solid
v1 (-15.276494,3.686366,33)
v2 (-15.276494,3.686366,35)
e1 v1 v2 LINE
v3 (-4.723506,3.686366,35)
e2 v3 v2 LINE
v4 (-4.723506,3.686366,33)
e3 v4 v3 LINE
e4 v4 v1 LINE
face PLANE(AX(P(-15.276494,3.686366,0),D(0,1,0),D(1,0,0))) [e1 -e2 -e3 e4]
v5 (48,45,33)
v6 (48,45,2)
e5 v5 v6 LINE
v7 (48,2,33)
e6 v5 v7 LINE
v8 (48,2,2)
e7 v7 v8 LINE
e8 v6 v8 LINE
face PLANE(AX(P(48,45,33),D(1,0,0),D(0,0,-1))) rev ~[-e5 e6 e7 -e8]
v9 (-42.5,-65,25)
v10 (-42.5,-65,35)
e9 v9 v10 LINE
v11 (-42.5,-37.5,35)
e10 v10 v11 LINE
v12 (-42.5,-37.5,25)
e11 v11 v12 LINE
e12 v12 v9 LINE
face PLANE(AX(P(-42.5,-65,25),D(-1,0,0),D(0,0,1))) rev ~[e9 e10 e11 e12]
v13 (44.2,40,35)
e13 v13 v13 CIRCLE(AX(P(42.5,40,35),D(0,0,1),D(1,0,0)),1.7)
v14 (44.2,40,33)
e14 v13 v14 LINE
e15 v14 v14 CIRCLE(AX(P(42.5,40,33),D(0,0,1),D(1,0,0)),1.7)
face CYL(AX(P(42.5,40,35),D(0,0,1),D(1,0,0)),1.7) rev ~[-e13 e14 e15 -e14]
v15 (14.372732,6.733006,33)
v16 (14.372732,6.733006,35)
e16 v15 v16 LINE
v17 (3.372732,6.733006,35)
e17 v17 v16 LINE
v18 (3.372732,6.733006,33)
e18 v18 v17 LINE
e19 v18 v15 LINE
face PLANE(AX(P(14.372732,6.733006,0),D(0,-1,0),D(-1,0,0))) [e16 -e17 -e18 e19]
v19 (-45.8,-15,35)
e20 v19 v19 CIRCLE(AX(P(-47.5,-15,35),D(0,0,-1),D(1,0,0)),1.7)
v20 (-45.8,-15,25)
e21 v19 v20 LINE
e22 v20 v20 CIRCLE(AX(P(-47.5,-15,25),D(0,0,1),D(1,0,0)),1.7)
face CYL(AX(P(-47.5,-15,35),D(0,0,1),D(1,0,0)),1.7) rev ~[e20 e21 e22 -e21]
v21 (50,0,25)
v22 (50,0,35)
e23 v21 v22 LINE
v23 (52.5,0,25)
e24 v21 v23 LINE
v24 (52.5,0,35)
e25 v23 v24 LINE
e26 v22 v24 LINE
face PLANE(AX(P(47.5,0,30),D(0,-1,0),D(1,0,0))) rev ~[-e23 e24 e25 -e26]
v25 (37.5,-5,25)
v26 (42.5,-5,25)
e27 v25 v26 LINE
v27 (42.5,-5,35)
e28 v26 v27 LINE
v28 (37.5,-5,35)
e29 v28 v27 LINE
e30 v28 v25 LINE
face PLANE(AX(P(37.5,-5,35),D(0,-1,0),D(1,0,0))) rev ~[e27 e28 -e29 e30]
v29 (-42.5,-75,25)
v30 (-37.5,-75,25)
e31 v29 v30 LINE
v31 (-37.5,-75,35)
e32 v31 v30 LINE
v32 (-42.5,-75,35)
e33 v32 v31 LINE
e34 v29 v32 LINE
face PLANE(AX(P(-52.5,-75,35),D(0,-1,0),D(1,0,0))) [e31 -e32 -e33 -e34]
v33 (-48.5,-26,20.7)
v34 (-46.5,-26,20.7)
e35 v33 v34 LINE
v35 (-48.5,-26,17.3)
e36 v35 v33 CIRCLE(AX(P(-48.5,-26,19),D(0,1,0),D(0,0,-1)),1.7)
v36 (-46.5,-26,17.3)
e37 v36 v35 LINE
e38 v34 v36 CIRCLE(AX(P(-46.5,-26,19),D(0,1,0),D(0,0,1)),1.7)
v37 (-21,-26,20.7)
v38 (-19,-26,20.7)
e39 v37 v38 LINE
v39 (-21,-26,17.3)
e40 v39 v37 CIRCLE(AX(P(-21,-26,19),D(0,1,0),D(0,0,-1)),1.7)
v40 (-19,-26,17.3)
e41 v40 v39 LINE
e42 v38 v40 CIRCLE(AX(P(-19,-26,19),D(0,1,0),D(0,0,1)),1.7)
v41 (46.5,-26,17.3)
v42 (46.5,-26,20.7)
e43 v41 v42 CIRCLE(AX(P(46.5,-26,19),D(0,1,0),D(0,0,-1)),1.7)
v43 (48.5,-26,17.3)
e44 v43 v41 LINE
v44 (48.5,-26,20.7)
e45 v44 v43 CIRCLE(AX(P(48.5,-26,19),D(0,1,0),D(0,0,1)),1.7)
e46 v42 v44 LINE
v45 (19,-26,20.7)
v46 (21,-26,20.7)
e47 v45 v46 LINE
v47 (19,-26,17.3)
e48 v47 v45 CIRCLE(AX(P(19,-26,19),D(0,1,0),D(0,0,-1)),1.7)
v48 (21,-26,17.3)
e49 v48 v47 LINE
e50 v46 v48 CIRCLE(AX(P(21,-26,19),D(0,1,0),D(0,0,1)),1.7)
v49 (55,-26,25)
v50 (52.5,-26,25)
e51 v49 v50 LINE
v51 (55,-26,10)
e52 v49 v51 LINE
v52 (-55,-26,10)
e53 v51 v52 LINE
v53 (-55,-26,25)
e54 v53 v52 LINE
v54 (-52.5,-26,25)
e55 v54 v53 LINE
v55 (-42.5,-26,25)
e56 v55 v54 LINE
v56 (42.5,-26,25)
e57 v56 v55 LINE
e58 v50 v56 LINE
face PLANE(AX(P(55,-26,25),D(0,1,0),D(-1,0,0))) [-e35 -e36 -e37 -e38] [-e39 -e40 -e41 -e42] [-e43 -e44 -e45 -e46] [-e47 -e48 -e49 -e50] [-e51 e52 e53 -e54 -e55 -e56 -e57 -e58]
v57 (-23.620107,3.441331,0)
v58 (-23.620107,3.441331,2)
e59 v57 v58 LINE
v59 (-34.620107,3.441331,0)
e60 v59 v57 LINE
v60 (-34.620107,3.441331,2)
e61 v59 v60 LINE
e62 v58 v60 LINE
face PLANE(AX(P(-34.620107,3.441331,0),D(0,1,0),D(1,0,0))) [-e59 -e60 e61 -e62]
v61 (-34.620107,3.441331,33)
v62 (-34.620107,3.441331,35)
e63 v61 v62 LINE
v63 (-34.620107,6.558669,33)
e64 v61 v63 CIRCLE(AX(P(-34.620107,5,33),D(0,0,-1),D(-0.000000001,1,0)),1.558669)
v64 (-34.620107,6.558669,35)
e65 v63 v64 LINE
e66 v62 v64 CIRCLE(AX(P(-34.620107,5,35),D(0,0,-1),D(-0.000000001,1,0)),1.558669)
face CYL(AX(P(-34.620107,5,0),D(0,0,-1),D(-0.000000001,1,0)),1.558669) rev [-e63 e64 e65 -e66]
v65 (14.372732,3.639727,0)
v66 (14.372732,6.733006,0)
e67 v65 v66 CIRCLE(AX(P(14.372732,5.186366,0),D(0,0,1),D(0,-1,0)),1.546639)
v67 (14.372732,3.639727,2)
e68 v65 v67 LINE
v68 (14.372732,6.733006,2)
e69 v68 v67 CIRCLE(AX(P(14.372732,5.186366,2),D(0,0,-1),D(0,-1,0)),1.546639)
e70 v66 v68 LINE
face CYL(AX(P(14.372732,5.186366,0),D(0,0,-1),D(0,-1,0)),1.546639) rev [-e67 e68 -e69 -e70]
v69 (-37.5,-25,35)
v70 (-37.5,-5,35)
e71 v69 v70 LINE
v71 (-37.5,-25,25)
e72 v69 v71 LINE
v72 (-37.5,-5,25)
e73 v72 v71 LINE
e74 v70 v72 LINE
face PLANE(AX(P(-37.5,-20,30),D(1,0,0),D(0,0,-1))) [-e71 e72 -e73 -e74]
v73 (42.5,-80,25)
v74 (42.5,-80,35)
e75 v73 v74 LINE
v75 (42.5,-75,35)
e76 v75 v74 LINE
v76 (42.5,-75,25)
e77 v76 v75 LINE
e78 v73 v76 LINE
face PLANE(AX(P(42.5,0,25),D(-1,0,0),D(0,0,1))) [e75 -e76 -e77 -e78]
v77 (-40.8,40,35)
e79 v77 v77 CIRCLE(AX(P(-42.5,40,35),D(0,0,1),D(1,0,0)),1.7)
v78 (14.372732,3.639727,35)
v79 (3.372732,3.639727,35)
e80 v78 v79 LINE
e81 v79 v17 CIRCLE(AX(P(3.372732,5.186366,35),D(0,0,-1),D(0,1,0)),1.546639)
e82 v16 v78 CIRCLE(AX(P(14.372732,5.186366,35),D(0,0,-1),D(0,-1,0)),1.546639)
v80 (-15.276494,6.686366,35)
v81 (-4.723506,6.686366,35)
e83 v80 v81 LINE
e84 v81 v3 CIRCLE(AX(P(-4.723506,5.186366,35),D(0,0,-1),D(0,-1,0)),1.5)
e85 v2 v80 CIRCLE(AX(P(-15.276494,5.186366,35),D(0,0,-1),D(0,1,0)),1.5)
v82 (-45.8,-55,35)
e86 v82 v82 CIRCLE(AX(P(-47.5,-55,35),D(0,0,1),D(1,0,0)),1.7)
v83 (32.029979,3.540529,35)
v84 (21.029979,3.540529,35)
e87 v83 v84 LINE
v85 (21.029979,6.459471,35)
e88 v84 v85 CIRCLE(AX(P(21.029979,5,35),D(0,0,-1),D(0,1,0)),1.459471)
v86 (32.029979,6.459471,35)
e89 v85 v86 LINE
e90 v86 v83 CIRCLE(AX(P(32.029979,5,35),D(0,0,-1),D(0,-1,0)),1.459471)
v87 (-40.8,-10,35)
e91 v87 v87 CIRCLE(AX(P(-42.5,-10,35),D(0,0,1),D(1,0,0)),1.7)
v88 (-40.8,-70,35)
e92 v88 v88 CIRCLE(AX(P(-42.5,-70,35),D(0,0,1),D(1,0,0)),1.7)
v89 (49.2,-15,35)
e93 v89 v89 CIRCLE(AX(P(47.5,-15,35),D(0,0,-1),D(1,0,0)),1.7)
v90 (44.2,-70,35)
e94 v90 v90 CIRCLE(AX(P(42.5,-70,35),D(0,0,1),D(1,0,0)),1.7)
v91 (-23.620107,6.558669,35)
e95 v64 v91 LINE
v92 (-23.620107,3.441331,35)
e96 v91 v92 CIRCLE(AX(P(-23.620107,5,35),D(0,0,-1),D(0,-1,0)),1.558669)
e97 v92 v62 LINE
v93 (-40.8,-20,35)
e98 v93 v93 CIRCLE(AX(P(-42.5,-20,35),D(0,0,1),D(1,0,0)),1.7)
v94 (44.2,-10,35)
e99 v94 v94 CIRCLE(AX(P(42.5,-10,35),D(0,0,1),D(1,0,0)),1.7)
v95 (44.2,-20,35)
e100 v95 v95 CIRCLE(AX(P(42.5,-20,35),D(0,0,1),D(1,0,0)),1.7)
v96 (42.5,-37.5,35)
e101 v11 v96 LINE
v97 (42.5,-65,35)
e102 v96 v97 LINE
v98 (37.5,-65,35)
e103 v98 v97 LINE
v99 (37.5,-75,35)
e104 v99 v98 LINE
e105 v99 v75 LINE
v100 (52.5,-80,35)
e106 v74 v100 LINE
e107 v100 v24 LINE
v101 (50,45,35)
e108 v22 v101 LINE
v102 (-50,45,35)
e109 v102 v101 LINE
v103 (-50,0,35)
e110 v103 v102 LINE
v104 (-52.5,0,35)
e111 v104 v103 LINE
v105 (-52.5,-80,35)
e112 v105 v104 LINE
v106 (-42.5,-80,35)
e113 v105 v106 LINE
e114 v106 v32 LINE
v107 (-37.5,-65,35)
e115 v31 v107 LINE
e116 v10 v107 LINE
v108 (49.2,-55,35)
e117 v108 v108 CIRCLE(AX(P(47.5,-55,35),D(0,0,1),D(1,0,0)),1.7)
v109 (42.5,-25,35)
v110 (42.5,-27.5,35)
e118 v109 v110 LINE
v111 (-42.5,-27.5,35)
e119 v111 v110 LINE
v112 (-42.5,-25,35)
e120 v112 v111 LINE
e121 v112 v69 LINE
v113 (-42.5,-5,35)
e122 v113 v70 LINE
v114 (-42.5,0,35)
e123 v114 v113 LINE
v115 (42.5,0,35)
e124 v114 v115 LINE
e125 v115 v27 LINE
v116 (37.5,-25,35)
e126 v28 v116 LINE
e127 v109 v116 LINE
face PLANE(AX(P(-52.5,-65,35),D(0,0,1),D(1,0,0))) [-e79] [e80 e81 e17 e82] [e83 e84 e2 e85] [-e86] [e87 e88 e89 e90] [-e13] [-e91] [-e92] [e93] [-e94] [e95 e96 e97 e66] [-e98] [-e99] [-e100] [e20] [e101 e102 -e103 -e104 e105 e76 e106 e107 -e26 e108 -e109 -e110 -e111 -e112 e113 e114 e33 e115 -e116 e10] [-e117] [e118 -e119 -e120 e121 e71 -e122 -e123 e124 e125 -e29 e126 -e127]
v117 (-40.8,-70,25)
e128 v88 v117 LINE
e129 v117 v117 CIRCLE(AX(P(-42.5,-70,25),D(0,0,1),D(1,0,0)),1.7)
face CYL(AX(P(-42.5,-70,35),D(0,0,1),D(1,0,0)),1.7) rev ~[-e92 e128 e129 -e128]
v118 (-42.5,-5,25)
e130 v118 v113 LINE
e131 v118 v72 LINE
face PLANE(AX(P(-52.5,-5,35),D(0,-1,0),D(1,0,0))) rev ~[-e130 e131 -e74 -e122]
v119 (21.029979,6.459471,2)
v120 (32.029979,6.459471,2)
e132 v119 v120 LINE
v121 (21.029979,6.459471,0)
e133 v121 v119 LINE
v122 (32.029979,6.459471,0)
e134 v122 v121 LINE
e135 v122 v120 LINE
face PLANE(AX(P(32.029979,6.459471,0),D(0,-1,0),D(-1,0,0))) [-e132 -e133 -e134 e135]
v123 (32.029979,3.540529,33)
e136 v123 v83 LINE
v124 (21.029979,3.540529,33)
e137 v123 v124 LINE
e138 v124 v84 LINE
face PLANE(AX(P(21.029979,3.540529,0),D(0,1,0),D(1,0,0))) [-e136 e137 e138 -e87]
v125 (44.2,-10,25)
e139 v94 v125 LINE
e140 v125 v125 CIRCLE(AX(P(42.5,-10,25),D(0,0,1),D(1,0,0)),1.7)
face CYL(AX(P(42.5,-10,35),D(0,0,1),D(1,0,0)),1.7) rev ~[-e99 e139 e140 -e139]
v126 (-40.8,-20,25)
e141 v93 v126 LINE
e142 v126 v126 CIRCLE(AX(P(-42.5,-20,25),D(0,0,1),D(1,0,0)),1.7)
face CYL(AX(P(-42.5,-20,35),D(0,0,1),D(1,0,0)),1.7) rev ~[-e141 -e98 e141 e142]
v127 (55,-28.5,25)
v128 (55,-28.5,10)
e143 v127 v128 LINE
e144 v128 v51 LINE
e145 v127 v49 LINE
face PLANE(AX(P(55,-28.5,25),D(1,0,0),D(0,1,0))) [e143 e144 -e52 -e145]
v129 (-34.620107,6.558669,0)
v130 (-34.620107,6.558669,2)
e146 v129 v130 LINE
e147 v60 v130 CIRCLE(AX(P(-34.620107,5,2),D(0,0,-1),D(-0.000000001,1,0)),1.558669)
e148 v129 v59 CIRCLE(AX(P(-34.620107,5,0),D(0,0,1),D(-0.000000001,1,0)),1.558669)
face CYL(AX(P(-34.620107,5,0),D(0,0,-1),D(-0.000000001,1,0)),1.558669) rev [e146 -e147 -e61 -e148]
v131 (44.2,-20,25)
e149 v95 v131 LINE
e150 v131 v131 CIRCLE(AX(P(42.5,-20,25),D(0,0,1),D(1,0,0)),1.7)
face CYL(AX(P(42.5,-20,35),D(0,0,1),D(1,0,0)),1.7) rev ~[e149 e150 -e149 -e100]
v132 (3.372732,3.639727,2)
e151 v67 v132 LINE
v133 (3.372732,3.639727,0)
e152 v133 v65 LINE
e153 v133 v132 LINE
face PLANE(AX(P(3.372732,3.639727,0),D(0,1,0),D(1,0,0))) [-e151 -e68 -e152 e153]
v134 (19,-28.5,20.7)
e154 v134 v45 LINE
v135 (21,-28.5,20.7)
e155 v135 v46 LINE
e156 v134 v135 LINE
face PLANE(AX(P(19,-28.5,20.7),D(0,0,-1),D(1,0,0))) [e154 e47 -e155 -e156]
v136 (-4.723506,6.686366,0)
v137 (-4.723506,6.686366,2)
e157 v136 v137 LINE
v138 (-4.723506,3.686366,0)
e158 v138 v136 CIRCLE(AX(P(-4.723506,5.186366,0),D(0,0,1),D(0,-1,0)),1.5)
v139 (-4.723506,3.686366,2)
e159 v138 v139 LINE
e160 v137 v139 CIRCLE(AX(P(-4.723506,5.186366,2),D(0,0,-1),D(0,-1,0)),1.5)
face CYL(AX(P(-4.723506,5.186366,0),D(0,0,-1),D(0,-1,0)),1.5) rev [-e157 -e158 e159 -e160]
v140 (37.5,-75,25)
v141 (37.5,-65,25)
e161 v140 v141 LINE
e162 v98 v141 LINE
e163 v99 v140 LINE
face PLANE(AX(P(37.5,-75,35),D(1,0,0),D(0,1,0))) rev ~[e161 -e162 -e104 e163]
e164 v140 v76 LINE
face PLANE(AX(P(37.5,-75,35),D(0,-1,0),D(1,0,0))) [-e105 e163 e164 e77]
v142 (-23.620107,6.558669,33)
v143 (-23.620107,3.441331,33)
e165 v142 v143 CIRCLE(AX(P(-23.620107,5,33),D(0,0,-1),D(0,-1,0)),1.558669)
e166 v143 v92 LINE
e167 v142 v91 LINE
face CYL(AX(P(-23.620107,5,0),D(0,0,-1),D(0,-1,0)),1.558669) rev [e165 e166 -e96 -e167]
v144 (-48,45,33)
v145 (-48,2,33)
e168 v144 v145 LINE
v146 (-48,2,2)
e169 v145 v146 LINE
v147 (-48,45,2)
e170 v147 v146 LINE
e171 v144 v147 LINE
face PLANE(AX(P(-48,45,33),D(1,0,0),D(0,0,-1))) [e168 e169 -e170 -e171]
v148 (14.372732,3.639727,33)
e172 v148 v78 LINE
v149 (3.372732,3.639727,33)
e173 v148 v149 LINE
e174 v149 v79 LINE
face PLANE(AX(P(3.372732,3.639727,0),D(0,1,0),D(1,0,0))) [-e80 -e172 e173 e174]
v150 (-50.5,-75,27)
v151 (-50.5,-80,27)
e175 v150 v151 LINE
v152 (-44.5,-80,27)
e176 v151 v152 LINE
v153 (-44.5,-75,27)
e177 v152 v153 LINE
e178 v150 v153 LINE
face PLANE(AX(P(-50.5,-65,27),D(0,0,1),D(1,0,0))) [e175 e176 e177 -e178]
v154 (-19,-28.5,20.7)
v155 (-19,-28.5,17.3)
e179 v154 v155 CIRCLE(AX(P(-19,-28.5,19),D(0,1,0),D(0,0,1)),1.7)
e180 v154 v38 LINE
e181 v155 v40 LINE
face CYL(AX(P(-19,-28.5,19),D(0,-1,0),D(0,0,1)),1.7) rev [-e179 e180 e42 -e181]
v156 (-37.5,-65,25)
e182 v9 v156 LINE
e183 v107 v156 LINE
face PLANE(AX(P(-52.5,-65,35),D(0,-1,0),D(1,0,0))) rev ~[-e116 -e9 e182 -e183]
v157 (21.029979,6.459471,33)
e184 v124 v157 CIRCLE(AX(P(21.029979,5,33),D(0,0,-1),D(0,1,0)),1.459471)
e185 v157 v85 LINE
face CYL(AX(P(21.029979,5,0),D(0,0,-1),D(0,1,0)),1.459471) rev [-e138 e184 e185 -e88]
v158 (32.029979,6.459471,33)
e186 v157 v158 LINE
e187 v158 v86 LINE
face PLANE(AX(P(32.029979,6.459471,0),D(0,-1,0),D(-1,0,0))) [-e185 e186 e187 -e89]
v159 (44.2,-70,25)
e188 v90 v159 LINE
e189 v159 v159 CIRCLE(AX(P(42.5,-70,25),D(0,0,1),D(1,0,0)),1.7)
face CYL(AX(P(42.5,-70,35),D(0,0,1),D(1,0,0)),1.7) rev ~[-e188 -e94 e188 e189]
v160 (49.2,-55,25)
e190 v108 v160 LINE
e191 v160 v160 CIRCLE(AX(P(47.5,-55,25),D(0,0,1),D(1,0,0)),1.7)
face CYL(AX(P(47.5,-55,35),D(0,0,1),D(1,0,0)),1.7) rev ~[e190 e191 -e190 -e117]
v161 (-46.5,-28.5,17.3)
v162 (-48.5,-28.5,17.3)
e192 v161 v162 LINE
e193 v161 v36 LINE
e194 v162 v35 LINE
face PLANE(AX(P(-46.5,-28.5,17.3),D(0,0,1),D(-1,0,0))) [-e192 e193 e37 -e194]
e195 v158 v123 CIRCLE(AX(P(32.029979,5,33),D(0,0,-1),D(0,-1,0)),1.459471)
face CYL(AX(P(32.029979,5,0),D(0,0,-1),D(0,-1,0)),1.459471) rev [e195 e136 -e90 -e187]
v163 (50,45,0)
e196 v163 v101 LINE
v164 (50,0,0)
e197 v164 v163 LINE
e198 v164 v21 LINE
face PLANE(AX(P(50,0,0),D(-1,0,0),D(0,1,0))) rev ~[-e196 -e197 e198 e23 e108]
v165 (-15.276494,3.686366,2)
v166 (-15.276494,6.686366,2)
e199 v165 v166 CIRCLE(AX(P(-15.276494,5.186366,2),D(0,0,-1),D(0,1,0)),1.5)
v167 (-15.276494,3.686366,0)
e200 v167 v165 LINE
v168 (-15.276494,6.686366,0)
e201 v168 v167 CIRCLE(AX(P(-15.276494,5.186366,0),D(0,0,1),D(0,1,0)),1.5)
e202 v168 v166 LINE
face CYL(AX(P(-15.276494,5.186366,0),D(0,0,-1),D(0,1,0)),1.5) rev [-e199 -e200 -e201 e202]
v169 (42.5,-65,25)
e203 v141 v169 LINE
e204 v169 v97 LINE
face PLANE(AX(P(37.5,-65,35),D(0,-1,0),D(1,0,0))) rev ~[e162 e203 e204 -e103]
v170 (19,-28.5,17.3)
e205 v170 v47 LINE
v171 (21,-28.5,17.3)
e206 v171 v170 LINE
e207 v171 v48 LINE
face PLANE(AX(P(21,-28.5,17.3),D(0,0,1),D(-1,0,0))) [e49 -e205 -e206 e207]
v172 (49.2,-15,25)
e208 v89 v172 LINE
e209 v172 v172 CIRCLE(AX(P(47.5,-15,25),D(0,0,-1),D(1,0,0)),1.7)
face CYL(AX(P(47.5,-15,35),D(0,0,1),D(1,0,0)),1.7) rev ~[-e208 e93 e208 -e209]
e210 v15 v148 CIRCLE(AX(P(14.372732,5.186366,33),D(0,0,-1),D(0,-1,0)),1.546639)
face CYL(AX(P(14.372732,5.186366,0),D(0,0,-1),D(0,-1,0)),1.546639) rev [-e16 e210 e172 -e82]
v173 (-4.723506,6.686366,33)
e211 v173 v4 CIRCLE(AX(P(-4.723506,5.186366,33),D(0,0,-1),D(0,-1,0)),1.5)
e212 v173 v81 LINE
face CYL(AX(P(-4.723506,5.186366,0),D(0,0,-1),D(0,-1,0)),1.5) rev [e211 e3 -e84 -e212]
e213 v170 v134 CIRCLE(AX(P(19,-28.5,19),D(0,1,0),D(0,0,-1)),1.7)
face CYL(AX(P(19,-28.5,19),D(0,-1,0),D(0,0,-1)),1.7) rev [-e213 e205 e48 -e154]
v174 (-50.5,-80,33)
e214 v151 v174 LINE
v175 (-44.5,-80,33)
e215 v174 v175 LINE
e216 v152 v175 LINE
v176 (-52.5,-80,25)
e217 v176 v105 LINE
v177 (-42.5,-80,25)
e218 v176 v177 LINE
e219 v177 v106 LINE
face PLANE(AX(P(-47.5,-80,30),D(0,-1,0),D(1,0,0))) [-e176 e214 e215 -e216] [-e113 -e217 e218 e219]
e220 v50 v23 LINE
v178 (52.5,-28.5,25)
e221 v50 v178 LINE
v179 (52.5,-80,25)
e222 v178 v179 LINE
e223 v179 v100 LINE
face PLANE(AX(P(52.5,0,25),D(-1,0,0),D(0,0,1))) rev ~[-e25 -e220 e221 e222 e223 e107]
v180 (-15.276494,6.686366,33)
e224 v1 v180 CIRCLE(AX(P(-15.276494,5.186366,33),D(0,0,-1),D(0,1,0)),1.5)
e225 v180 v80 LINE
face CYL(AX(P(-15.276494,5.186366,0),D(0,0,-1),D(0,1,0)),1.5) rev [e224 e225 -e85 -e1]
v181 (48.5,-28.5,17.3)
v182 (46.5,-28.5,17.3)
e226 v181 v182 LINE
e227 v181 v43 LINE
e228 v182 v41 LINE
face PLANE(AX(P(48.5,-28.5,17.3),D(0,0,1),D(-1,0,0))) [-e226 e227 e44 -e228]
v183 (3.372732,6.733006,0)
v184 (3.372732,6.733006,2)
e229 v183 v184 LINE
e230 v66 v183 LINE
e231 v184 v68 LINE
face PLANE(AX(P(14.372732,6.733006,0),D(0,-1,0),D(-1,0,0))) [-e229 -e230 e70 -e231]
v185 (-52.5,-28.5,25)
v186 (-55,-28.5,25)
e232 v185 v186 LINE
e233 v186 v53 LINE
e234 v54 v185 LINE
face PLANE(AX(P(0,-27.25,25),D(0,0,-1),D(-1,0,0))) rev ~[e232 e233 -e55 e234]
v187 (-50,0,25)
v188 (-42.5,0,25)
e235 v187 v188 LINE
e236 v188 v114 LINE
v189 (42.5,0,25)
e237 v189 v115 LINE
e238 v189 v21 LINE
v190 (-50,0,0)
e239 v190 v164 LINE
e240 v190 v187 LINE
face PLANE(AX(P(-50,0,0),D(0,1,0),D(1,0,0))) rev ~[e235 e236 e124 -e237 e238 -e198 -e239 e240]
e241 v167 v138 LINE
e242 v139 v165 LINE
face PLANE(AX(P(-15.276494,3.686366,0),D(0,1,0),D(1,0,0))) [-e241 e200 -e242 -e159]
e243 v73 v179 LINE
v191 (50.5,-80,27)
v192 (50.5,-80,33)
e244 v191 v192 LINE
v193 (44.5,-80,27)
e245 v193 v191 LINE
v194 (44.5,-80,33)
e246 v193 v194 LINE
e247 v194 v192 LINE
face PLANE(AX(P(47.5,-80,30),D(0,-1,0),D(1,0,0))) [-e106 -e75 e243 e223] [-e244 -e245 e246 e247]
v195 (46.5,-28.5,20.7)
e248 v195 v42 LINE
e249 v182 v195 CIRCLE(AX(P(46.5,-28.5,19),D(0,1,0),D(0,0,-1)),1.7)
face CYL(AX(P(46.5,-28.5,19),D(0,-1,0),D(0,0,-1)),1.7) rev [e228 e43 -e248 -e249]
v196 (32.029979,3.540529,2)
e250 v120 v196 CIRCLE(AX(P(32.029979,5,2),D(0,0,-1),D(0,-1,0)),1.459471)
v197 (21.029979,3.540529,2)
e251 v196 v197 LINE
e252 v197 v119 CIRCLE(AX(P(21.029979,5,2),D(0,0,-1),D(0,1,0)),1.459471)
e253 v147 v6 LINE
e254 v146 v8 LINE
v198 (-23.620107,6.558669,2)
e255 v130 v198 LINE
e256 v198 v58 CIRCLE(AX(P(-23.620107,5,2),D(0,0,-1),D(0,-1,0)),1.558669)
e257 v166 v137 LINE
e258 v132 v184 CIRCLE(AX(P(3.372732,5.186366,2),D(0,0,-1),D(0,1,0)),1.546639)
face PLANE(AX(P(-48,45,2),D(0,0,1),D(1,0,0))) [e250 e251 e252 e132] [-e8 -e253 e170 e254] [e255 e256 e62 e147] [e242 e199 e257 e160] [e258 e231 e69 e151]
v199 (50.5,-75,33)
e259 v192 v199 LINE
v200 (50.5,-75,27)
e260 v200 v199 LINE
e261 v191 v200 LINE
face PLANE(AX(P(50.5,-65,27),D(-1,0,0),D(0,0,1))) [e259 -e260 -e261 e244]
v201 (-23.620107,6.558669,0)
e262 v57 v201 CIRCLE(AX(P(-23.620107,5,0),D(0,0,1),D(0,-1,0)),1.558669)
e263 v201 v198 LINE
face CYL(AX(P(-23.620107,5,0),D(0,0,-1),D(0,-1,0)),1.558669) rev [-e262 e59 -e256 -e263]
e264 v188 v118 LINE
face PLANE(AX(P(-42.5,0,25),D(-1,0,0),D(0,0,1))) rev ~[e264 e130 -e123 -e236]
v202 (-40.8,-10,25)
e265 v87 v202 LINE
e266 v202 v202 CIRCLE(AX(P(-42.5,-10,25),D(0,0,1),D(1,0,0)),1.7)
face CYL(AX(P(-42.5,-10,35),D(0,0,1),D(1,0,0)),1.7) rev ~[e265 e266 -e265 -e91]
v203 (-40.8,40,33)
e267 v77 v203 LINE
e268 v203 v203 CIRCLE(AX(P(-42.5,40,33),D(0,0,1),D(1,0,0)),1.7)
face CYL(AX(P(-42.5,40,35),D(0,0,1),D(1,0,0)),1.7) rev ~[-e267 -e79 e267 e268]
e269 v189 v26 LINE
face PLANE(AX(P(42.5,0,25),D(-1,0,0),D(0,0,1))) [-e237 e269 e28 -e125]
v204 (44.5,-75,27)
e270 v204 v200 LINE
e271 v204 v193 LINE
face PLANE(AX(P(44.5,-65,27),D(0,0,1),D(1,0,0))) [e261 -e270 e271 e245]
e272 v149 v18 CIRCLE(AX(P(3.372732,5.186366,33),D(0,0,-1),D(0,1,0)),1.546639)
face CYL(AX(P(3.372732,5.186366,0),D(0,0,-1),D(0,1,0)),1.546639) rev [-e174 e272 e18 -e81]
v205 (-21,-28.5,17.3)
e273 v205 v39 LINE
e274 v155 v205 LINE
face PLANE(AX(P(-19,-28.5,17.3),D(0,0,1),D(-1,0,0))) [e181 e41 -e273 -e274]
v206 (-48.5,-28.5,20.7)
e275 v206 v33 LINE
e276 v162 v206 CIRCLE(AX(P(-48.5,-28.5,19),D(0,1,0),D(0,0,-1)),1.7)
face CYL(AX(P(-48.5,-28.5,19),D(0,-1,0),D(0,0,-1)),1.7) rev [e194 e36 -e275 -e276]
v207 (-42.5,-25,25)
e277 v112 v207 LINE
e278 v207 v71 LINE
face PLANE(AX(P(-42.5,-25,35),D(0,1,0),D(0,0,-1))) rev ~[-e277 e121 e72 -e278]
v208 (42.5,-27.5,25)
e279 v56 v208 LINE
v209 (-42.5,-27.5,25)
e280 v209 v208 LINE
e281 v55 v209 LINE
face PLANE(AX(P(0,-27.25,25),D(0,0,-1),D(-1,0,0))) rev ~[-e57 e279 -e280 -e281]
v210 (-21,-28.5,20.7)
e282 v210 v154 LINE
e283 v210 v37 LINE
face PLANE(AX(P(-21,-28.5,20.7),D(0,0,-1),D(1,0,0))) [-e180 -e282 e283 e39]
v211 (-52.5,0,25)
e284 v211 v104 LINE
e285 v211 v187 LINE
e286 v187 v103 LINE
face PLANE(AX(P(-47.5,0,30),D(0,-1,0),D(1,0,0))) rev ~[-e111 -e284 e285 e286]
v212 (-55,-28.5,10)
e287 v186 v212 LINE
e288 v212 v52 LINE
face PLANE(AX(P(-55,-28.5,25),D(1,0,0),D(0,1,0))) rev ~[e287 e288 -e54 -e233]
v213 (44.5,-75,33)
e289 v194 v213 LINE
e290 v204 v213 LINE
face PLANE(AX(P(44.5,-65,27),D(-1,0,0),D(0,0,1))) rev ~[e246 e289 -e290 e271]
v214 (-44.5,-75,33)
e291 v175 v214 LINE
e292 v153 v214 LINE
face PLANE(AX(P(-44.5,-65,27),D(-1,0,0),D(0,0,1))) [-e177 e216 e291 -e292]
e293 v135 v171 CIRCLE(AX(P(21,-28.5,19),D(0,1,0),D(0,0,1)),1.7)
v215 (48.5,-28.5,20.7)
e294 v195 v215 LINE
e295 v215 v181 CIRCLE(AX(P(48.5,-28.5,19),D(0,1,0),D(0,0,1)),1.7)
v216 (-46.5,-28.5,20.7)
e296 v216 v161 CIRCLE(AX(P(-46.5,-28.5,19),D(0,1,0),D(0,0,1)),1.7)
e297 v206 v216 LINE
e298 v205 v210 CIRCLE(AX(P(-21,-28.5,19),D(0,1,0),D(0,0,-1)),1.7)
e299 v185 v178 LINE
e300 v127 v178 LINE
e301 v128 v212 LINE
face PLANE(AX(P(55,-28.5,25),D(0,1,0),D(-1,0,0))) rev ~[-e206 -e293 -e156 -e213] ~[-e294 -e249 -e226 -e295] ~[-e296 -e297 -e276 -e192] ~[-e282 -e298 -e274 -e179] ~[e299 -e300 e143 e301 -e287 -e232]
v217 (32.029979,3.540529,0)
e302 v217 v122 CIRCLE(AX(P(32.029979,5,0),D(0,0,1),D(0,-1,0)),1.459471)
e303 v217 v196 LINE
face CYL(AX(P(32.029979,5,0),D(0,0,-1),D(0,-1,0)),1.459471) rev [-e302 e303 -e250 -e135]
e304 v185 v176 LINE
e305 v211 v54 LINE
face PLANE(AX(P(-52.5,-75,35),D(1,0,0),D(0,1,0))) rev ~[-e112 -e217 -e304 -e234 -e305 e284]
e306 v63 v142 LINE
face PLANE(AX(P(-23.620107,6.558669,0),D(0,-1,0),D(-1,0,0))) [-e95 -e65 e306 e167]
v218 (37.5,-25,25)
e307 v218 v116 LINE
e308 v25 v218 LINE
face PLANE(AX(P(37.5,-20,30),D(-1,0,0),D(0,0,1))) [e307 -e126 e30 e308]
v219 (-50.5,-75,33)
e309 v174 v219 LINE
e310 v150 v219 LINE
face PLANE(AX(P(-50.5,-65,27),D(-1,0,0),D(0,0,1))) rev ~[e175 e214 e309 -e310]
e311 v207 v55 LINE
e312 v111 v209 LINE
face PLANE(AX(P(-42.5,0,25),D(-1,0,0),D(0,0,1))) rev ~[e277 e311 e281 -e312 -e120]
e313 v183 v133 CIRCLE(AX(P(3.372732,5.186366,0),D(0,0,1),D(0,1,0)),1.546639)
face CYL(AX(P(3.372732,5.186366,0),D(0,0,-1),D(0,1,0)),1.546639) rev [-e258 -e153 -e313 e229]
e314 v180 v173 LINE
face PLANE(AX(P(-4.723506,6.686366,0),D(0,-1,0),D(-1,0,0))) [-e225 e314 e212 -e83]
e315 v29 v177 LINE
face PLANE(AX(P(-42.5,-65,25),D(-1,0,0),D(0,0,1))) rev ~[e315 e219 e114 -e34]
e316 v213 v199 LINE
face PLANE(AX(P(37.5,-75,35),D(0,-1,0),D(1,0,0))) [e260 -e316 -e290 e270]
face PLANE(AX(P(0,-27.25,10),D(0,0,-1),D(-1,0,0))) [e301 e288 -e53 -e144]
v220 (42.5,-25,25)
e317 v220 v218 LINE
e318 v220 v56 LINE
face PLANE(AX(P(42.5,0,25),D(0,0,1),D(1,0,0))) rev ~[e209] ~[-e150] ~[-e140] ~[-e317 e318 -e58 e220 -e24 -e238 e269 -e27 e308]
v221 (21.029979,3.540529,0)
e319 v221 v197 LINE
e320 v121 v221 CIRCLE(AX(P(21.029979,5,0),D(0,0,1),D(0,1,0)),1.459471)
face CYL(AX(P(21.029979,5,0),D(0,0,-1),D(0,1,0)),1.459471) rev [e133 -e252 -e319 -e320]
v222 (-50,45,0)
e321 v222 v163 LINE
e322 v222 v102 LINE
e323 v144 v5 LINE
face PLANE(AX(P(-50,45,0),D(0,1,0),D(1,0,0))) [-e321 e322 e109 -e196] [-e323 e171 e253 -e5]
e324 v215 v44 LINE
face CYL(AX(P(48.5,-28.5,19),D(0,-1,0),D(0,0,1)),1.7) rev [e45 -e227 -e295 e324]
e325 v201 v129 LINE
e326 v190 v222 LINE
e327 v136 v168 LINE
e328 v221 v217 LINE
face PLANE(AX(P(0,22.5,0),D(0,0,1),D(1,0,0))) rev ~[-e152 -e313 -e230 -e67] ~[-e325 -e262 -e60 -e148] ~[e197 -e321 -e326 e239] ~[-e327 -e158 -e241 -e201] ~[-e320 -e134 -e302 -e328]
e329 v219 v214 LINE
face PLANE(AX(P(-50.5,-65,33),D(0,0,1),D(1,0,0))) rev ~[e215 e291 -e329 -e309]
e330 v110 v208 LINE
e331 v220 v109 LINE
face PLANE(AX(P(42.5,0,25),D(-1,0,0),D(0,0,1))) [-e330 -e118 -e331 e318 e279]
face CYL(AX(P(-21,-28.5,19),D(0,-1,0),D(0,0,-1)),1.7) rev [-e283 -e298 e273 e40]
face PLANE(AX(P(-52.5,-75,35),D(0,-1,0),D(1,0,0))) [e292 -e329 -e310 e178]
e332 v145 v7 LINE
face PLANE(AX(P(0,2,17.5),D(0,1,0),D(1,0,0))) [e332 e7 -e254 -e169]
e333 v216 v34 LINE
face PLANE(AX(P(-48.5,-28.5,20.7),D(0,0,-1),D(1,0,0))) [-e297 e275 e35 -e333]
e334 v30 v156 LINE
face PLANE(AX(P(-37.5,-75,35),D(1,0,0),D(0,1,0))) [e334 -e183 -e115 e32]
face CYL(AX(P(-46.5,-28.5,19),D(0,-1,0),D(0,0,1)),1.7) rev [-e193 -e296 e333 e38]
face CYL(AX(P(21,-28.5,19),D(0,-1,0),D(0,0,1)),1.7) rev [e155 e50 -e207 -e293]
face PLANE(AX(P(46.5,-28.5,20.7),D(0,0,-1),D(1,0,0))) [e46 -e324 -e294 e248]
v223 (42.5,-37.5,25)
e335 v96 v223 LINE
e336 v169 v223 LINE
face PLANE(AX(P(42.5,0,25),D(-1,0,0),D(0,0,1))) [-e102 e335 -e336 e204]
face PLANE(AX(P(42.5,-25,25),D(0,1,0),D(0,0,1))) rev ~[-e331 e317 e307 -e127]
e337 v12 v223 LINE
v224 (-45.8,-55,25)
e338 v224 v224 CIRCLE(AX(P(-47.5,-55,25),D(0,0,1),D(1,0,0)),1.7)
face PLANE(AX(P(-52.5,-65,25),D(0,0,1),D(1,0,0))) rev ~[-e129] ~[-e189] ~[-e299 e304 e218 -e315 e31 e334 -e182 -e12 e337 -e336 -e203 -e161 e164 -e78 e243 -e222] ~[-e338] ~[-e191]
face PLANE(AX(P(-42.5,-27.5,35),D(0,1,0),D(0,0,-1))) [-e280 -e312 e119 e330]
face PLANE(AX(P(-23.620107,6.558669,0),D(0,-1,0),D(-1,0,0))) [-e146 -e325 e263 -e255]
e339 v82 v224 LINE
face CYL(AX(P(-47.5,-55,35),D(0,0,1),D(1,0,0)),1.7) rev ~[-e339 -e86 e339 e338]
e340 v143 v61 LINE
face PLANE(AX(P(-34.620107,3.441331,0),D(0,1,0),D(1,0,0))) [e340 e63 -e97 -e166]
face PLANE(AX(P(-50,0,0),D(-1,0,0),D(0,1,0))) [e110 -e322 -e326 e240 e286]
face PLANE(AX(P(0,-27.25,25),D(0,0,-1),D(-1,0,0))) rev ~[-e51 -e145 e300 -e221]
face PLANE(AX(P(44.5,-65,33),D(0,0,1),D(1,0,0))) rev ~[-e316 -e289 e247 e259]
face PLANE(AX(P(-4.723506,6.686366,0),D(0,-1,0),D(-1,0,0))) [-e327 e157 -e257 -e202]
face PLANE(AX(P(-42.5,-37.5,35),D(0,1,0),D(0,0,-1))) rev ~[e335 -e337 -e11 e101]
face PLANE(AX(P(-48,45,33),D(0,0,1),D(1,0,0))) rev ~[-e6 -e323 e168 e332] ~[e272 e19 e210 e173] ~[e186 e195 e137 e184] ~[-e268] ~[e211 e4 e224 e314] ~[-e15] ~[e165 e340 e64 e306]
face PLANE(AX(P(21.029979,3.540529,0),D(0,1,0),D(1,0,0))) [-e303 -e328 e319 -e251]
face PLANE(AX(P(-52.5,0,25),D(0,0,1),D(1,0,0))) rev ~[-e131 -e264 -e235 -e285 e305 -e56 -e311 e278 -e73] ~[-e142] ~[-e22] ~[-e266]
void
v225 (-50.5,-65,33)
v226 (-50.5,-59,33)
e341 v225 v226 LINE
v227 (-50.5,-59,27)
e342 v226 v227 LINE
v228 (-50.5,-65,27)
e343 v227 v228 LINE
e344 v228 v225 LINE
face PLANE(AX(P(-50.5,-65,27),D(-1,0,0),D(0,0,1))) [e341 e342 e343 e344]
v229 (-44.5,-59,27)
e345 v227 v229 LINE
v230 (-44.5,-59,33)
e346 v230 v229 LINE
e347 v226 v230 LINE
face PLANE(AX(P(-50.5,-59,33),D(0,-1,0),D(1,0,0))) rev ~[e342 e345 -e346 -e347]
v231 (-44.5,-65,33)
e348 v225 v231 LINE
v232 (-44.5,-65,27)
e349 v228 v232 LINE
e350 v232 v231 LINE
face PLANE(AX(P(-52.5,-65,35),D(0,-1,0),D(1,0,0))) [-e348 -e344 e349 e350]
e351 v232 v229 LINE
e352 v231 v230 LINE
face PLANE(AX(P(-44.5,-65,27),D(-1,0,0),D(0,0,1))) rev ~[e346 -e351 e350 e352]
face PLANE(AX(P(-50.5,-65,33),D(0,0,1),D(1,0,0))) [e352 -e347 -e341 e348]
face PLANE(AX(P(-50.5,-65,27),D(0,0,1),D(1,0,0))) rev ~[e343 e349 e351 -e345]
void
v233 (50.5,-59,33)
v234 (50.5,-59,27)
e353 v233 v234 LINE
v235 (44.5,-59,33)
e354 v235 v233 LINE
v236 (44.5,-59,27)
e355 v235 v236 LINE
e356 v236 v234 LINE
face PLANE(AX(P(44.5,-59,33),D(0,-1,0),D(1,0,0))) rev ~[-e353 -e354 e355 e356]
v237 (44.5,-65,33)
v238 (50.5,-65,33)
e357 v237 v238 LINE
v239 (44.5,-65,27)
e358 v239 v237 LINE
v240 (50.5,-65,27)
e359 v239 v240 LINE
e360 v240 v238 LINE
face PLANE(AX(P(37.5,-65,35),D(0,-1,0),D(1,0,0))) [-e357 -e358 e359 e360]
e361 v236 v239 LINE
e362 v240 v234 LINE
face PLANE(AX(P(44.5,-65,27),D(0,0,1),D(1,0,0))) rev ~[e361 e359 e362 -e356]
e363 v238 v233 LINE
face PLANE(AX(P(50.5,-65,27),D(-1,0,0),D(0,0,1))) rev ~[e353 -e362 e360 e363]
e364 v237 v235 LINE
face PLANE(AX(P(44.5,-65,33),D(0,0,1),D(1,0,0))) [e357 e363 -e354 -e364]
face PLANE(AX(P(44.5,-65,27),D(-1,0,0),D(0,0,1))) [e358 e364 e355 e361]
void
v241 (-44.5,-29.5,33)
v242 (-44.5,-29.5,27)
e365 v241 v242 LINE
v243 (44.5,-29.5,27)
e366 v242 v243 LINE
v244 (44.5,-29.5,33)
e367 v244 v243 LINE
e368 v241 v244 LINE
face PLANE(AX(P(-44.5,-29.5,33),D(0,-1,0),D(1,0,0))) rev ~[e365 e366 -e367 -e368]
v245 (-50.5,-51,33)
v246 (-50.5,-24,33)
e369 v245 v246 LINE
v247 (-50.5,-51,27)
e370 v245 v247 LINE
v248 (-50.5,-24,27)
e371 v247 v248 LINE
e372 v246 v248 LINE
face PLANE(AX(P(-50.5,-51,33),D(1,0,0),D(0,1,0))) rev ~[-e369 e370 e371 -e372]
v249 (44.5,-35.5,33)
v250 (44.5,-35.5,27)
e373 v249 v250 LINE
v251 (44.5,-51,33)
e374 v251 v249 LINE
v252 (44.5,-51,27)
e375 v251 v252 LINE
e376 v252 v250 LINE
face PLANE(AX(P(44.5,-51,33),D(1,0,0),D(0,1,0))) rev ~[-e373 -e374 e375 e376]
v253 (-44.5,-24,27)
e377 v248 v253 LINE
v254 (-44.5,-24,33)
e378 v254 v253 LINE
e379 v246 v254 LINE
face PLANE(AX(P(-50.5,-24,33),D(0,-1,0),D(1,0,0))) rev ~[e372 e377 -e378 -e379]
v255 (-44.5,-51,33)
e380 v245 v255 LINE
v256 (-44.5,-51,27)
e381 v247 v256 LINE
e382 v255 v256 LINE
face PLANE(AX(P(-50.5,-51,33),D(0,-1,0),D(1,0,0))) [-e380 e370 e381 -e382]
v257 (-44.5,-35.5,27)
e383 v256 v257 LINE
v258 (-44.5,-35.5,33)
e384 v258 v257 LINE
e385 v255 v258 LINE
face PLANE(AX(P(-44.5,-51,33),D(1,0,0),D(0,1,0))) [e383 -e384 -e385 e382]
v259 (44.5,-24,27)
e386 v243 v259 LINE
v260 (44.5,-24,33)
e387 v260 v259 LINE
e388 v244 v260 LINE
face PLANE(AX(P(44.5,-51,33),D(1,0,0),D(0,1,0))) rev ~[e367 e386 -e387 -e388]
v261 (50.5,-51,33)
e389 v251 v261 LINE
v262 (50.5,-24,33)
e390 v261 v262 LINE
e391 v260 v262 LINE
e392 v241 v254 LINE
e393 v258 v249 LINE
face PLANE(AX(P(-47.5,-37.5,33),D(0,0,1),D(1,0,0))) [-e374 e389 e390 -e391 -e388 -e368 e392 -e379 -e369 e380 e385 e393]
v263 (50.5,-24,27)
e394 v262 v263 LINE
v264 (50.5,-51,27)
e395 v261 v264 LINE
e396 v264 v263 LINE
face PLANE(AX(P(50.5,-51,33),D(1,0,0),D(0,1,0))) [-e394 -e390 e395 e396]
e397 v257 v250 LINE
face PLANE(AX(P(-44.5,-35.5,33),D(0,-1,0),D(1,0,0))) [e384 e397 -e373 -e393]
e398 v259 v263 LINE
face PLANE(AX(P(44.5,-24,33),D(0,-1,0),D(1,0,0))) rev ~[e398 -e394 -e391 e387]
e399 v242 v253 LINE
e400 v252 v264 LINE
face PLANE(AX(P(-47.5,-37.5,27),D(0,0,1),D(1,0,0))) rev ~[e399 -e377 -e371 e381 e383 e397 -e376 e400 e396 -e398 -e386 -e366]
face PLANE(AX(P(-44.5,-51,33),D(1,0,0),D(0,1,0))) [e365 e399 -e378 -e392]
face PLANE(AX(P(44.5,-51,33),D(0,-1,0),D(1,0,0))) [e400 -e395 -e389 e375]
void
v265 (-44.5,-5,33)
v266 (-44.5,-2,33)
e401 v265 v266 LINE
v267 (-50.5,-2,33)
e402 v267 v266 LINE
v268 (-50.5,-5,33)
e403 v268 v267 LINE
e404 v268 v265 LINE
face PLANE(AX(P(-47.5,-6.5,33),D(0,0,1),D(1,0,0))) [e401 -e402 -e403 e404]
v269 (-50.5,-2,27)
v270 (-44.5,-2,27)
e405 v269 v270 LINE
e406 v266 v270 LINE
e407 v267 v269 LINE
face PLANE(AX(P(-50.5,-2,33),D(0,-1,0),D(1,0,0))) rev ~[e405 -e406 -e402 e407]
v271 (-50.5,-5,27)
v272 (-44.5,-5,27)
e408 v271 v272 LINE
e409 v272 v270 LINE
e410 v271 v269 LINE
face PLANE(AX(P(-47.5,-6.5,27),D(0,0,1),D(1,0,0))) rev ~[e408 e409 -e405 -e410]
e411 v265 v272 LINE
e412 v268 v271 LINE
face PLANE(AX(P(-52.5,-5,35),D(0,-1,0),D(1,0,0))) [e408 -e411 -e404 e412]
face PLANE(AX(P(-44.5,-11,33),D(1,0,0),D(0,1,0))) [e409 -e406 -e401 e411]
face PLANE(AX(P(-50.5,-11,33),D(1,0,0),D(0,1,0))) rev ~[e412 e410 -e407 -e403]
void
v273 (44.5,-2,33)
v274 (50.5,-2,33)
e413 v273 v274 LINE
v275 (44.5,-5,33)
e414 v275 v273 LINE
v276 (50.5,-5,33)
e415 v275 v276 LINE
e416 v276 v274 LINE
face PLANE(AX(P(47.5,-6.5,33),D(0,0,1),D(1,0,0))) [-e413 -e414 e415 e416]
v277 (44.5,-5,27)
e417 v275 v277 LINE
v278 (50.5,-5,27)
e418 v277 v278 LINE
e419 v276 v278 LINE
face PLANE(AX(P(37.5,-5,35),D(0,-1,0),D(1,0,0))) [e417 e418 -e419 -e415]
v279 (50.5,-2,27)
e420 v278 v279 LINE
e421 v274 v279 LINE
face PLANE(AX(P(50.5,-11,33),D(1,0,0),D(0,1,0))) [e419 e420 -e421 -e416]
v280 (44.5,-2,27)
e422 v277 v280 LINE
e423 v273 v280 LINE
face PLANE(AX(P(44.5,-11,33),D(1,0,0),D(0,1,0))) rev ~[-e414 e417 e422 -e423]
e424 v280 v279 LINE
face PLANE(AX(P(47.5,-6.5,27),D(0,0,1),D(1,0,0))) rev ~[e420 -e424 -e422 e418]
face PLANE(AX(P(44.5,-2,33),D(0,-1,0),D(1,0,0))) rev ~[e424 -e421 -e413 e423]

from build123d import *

# Parameters (mm, degrees)
V3_BOX_FOOTPRINT_100_X_45_MM_W                 = 100
V3_BOX_FOOTPRINT_100_X_45_MM_H                 = 45
V3_BOX_HEIGHT_35_MM_DEPTH                      = 35
V3_REAR_OPENING_96_X_31_MM_W                   = 96
V3_REAR_OPENING_96_X_31_MM_H                   = 31
V3_CAVITY_ALL_WALLS_2_MM_DEPTH                 = 43
V3_SQUARE_BEAMS_10_X_10_PITCH_95_MM_W          = 10
V3_SQUARE_BEAMS_10_X_10_PITCH_95_MM_H          = 10
V3_FORWARD_BEAM_LENGTH_65_MM_DEPTH             = 65
V3_LEFT_PCB_EAR_PROFILE_W                      = 10
V3_LEFT_PCB_EAR_PROFILE_H                      = 10
V3_LEFT_INWARD_EAR_5_MM_DEPTH                  = 5
V3_RIGHT_PCB_EAR_PROFILE_W                     = 10
V3_RIGHT_PCB_EAR_PROFILE_H                     = 10
V3_RIGHT_INWARD_EAR_5_MM_DEPTH                 = 5
V3_PCB_ROOF_PAIR_PITCH_85_MM_R                 = 1.7
V3_M3_ROOF_HOLES_DIAMETER_3_4_MM_DEPTH         = 2
V3_PCB_FORWARD_PAIR_ROW_SPACING_60_MM_R        = 1.7
V3_M3_PCB_EAR_HOLES_DEPTH                      = 10
V3_CHASSIS_TOP_HOLES_WIDTH_95_DEPTH_40_M_R     = 1.7
V3_M3_BEAM_TOP_BOTTOM_HOLES_DEPTH              = 10
V3_HANGING_PLATE_OFFSET_26_THICKNESS_2_5_W     = 110
V3_HANGING_PLATE_OFFSET_26_THICKNESS_2_5_H     = 2.5
V3_MOUNTING_PLATE_DOWNWARD_15_MM_WIDTH_1_DEPTH = 15
FOUR_HORIZONTAL_SLOTS_3_4_X_5_4_MM_DEPTH       = 2.5
CUT_EXTRUDE_1_DEPTH                            = 93.059763198
H_CROSSMEMBER_10_X_10_MM_AT_BEAM_MIDPOIN_W     = 10
H_CROSSMEMBER_10_X_10_MM_AT_BEAM_MIDPOIN_H     = 10
H_CROSSMEMBER_85_MM_DEPTH                      = 85
LONGITUDINAL_START                             = -2
BEAM_CAVITIES_6_MM_WIDE_PRESERVING_SCREW_W     = 6
BEAM_CAVITIES_6_MM_WIDE_PRESERVING_SCREW_H     = 6
BEAM_CAVITIES_6_MM_WIDE_PRESERVING_SCREW_H_2   = 27
BEAM_CAVITIES_6_MM_WIDE_PRESERVING_SCREW_H_3   = 9
LONGITUDINAL_BEAM_WALLS_2_MM_INNER_HEI_DEPTH   = 6
H_START                                        = -2
H_CROSSMEMBER_CAVITY_CONNECTS_BOTH_BEAM_W      = 89
H_CROSSMEMBER_CAVITY_CONNECTS_BOTH_BEAM_H      = 6
H_CROSSMEMBER_WALLS_2_MM_DEPTH                 = 6
CUT_EXTRUDE_4_DEPTH                            = 93.059763198
V6_EXTEND_10_X_10_HOLLOW_BEAMS_WITH_2_MM_W     = 10
V6_EXTEND_10_X_10_HOLLOW_BEAMS_WITH_2_MM_H     = 10
V6_EXTEND_10_X_10_HOLLOW_BEAMS_WITH_2_MM_W_2   = 6
V6_EXTEND_10_X_10_HOLLOW_BEAMS_WITH_2_MM_H_2   = 6
V6_HOLLOW_BEAM_EXTENSIONS_15_MM_DEPTH          = 15
V6_FOUR_FULL_DEPTH_PCB_PADS_CENTERS_X42_W      = 15
V6_FOUR_FULL_DEPTH_PCB_PADS_CENTERS_X42_H      = 10
V6_SOLID_SCREW_PADS_WITH_5_MM_INWARD_EAR_DEPTH = 10
V6_PCB_HOLES_85_X_60_MM_AND_RETAINED_CHA_R     = 1.7
V6_FOUR_PCB_M3_HOLES_THROUGH_REINFORCED_DEPTH  = 10


with BuildPart() as part:
    # V3 box footprint 100 x 45 mm → V3 box height 35 mm (new body)
    with BuildSketch(Plane.XY):
        with Locations((0, 22.5)):
            Rectangle(V3_BOX_FOOTPRINT_100_X_45_MM_W, V3_BOX_FOOTPRINT_100_X_45_MM_H)
    extrude(amount=V3_BOX_HEIGHT_35_MM_DEPTH)

    # V3 rear opening 96 x 31 mm → V3 cavity all walls 2 mm (cut)
    with BuildSketch(Plane(origin=(0, 45, 0), x_dir=(1, 0, 0), z_dir=(0, 1, 0))):
        with Locations((0, -17.5)):
            Rectangle(V3_REAR_OPENING_96_X_31_MM_W, V3_REAR_OPENING_96_X_31_MM_H)
    extrude(amount=-V3_CAVITY_ALL_WALLS_2_MM_DEPTH, mode=Mode.SUBTRACT)

    # V3 square beams 10 x 10 pitch 95 mm → V3 forward beam length 65 mm (add)
    with BuildSketch(Plane.XZ):
        with Locations((-47.5, 30)):
            Rectangle(V3_SQUARE_BEAMS_10_X_10_PITCH_95_MM_W, V3_SQUARE_BEAMS_10_X_10_PITCH_95_MM_H)
        with Locations((47.5, 30)):
            Rectangle(V3_SQUARE_BEAMS_10_X_10_PITCH_95_MM_W, V3_SQUARE_BEAMS_10_X_10_PITCH_95_MM_H)
    extrude(amount=V3_FORWARD_BEAM_LENGTH_65_MM_DEPTH)

    # V3 left PCB ear profile → V3 left inward ear 5 mm (add)
    with BuildSketch(Plane(origin=(-42.5, 0, 0), x_dir=(0, 0, -1), z_dir=(1, 0, 0))):
        with Locations((-30, -20)):
            Rectangle(V3_LEFT_PCB_EAR_PROFILE_W, V3_LEFT_PCB_EAR_PROFILE_H)
    extrude(amount=V3_LEFT_INWARD_EAR_5_MM_DEPTH)

    # V3 right PCB ear profile → V3 right inward ear 5 mm (add)
    with BuildSketch(Plane.ZY.offset(-42.5)):
        with Locations((30, -20)):
            Rectangle(V3_RIGHT_PCB_EAR_PROFILE_W, V3_RIGHT_PCB_EAR_PROFILE_H)
    extrude(amount=V3_RIGHT_INWARD_EAR_5_MM_DEPTH)

    # V3 PCB roof pair pitch 85 mm → V3 M3 roof holes diameter 3.4 mm (cut)
    with BuildSketch(Plane.XY.offset(35)):
        with Locations((-42.5, 40)):
            Circle(V3_PCB_ROOF_PAIR_PITCH_85_MM_R)
        with Locations((42.5, 40)):
            Circle(V3_PCB_ROOF_PAIR_PITCH_85_MM_R)
    extrude(amount=-V3_M3_ROOF_HOLES_DIAMETER_3_4_MM_DEPTH, mode=Mode.SUBTRACT)

    # V3 PCB forward pair row spacing 60 mm → V3 M3 PCB ear holes (cut)
    with BuildSketch(Plane.XY.offset(35)):
        with Locations((-42.5, -20)):
            Circle(V3_PCB_FORWARD_PAIR_ROW_SPACING_60_MM_R)
        with Locations((42.5, -20)):
            Circle(V3_PCB_FORWARD_PAIR_ROW_SPACING_60_MM_R)
    extrude(amount=-V3_M3_PCB_EAR_HOLES_DEPTH, mode=Mode.SUBTRACT)

    # V3 chassis top holes width 95 depth 40 mm → V3 M3 beam top bottom holes (cut)
    with BuildSketch(Plane.XY.offset(35)):
        with Locations((-47.5, -55)):
            Circle(V3_CHASSIS_TOP_HOLES_WIDTH_95_DEPTH_40_M_R)
        with Locations((-47.5, -15)):
            Circle(V3_CHASSIS_TOP_HOLES_WIDTH_95_DEPTH_40_M_R)
        with Locations((47.5, -55)):
            Circle(V3_CHASSIS_TOP_HOLES_WIDTH_95_DEPTH_40_M_R)
        with Locations((47.5, -15)):
            Circle(V3_CHASSIS_TOP_HOLES_WIDTH_95_DEPTH_40_M_R)
    extrude(amount=-V3_M3_BEAM_TOP_BOTTOM_HOLES_DEPTH, mode=Mode.SUBTRACT)

    # V3 hanging plate offset 26 thickness 2.5 mm → V3 mounting plate downward 15 mm width 110 (add)
    with BuildSketch(Plane(origin=(0, 0, 25), x_dir=(-1, 0, 0), z_dir=(0, 0, -1))):
        with Locations((0, -27.25)):
            Rectangle(V3_HANGING_PLATE_OFFSET_26_THICKNESS_2_5_W, V3_HANGING_PLATE_OFFSET_26_THICKNESS_2_5_H)
    extrude(amount=V3_MOUNTING_PLATE_DOWNWARD_15_MM_WIDTH_1_DEPTH)

    # V3 slots 6 mm below beam underside centers 20 and 47.5 → Four horizontal slots 3.4 x 5.4 mm (cut)
    with BuildSketch(Plane.XZ.offset(28.5)):
        with BuildLine():
            Line((-48.5, 20.7), (-46.5, 20.7))
            ThreePointArc((-46.5, 20.7), (-44.8, 19), (-46.5, 17.3))
            Line((-46.5, 17.3), (-48.5, 17.3))
            ThreePointArc((-48.5, 17.3), (-50.2, 19), (-48.5, 20.7))
        make_face()
        with BuildLine():
            Line((-21, 20.7), (-19, 20.7))
            ThreePointArc((-19, 20.7), (-17.3, 19), (-19, 17.3))
            Line((-19, 17.3), (-21, 17.3))
            ThreePointArc((-21, 17.3), (-22.7, 19), (-21, 20.7))
        make_face()
        with BuildLine():
            Line((19, 20.7), (21, 20.7))
            ThreePointArc((21, 20.7), (22.7, 19), (21, 17.3))
            Line((21, 17.3), (19, 17.3))
            ThreePointArc((19, 17.3), (17.3, 19), (19, 20.7))
        make_face()
        with BuildLine():
            Line((46.5, 20.7), (48.5, 20.7))
            ThreePointArc((48.5, 20.7), (50.2, 19), (48.5, 17.3))
            Line((48.5, 17.3), (46.5, 17.3))
            ThreePointArc((46.5, 17.3), (44.8, 19), (46.5, 20.7))
        make_face()
    extrude(amount=-FOUR_HORIZONTAL_SLOTS_3_4_X_5_4_MM_DEPTH, mode=Mode.SUBTRACT)

    # 草图2 → 切除-拉伸1 (cut, through all)
    with BuildSketch(Plane(origin=(0, 0, 0), x_dir=(-1, 0, 0), z_dir=(0, 0, -1))):
        with BuildLine():
            Line((-32.029979042, 6.459471041), (-21.029979042, 6.459471041))
            ThreePointArc((-21.029979042, 6.459471041), (-19.570508001, 5), (-21.029979042, 3.540528959))
            Line((-21.029979042, 3.540528959), (-32.029979042, 3.540528959))
            ThreePointArc((-32.029979042, 3.540528959), (-33.489450083, 5), (-32.029979042, 6.459471041))
        make_face()
        with BuildLine():
            Line((23.620107008, 6.558669056), (34.620107008, 6.558669056))
            ThreePointArc((34.620107008, 6.558669056), (36.178776063, 5), (34.620107008, 3.441330944))
            Line((34.620107008, 3.441330944), (23.620107008, 3.441330944))
            ThreePointArc((23.620107008, 3.441330944), (22.061437952, 5), (23.620107008, 6.558669056))
        make_face()
    extrude(amount=-CUT_EXTRUDE_1_DEPTH, mode=Mode.SUBTRACT)

    # H crossmember 10 x 10 mm at beam midpoint → H crossmember 85 mm (add)
    with BuildSketch(Plane(origin=(-42.5, 0, 0), x_dir=(0, 0, -1), z_dir=(1, 0, 0))):
        with Locations((-30, -32.5)):
            Rectangle(H_CROSSMEMBER_10_X_10_MM_AT_BEAM_MIDPOIN_W, H_CROSSMEMBER_10_X_10_MM_AT_BEAM_MIDPOIN_H)
    extrude(amount=H_CROSSMEMBER_85_MM_DEPTH)

    # Beam cavities 6 mm wide preserving screw collars → Longitudinal beam walls 2 mm - inner height 6 mm (cut)
    with BuildSketch(Plane.XY.offset(35).offset(LONGITUDINAL_START)):
        with Locations((-47.5, -62)):
            Rectangle(BEAM_CAVITIES_6_MM_WIDE_PRESERVING_SCREW_W, BEAM_CAVITIES_6_MM_WIDE_PRESERVING_SCREW_H)
        with Locations((-47.5, -37.5)):
            Rectangle(BEAM_CAVITIES_6_MM_WIDE_PRESERVING_SCREW_W, BEAM_CAVITIES_6_MM_WIDE_PRESERVING_SCREW_H_2)
        with Locations((-47.5, -6.5)):
            Rectangle(BEAM_CAVITIES_6_MM_WIDE_PRESERVING_SCREW_W, BEAM_CAVITIES_6_MM_WIDE_PRESERVING_SCREW_H_3)
        with Locations((47.5, -62)):
            Rectangle(BEAM_CAVITIES_6_MM_WIDE_PRESERVING_SCREW_W, BEAM_CAVITIES_6_MM_WIDE_PRESERVING_SCREW_H)
        with Locations((47.5, -37.5)):
            Rectangle(BEAM_CAVITIES_6_MM_WIDE_PRESERVING_SCREW_W, BEAM_CAVITIES_6_MM_WIDE_PRESERVING_SCREW_H_2)
        with Locations((47.5, -6.5)):
            Rectangle(BEAM_CAVITIES_6_MM_WIDE_PRESERVING_SCREW_W, BEAM_CAVITIES_6_MM_WIDE_PRESERVING_SCREW_H_3)
    extrude(amount=-LONGITUDINAL_BEAM_WALLS_2_MM_INNER_HEI_DEPTH, mode=Mode.SUBTRACT)

    # H crossmember cavity connects both beam cavities → H crossmember walls 2 mm (cut)
    with BuildSketch(Plane.XY.offset(35).offset(H_START)):
        with Locations((0, -32.5)):
            Rectangle(H_CROSSMEMBER_CAVITY_CONNECTS_BOTH_BEAM_W, H_CROSSMEMBER_CAVITY_CONNECTS_BOTH_BEAM_H)
    extrude(amount=-H_CROSSMEMBER_WALLS_2_MM_DEPTH, mode=Mode.SUBTRACT)

    # 草图8 → 切除-拉伸4 (cut, through all)
    with BuildSketch(Plane(origin=(0, 0, 0), x_dir=(-1, 0, 0), z_dir=(0, 0, -1))):
        with BuildLine():
            Line((-14.372732488, 6.733005515), (-3.372732488, 6.733005515))
            ThreePointArc((-3.372732488, 6.733005515), (-1.826093217, 5.186366244), (-3.372732488, 3.639726973))
            Line((-3.372732488, 3.639726973), (-14.372732488, 3.639726973))
            ThreePointArc((-14.372732488, 3.639726973), (-15.919371759, 5.186366244), (-14.372732488, 6.733005515))
        make_face()
        with BuildLine():
            Line((4.72350579, 6.686366244), (15.27649421, 6.686366244))
            ThreePointArc((15.27649421, 6.686366244), (16.77649421, 5.186366244), (15.27649421, 3.686366244))
            Line((15.27649421, 3.686366244), (4.72350579, 3.686366244))
            ThreePointArc((4.72350579, 3.686366244), (3.22350579, 5.186366244), (4.72350579, 6.686366244))
        make_face()
    extrude(amount=-CUT_EXTRUDE_4_DEPTH, mode=Mode.SUBTRACT)

    # V6 extend 10 x 10 hollow beams with 2 mm walls → V6 hollow beam extensions 15 mm (add)
    # profile 1 of 2: a face of its own
    with BuildSketch(Plane.XZ.offset(65)):
        with Locations((-47.5, 30)):
            Rectangle(V6_EXTEND_10_X_10_HOLLOW_BEAMS_WITH_2_MM_W, V6_EXTEND_10_X_10_HOLLOW_BEAMS_WITH_2_MM_H)
        with Locations((-47.5, 30)):
            Rectangle(V6_EXTEND_10_X_10_HOLLOW_BEAMS_WITH_2_MM_W_2, V6_EXTEND_10_X_10_HOLLOW_BEAMS_WITH_2_MM_H_2, mode=Mode.SUBTRACT)
    # profile 2 of 2: a face of its own
    with BuildSketch(Plane.XZ.offset(65)):
        with Locations((47.5, 30)):
            Rectangle(V6_EXTEND_10_X_10_HOLLOW_BEAMS_WITH_2_MM_W, V6_EXTEND_10_X_10_HOLLOW_BEAMS_WITH_2_MM_H)
        with Locations((47.5, 30)):
            Rectangle(V6_EXTEND_10_X_10_HOLLOW_BEAMS_WITH_2_MM_W_2, V6_EXTEND_10_X_10_HOLLOW_BEAMS_WITH_2_MM_H_2, mode=Mode.SUBTRACT)
    extrude(amount=V6_HOLLOW_BEAM_EXTENSIONS_15_MM_DEPTH)

    # V6 four full-depth PCB pads centers x42.5 y-70 and -10 → V6 solid screw pads with 5 mm inward ears (add)
    with BuildSketch(Plane.XY.offset(35)):
        with Locations((-45, -70)):
            Rectangle(V6_FOUR_FULL_DEPTH_PCB_PADS_CENTERS_X42_W, V6_FOUR_FULL_DEPTH_PCB_PADS_CENTERS_X42_H)
        with Locations((45, -70)):
            Rectangle(V6_FOUR_FULL_DEPTH_PCB_PADS_CENTERS_X42_W, V6_FOUR_FULL_DEPTH_PCB_PADS_CENTERS_X42_H)
        with Locations((-45, -10)):
            Rectangle(V6_FOUR_FULL_DEPTH_PCB_PADS_CENTERS_X42_W, V6_FOUR_FULL_DEPTH_PCB_PADS_CENTERS_X42_H)
        with Locations((45, -10)):
            Rectangle(V6_FOUR_FULL_DEPTH_PCB_PADS_CENTERS_X42_W, V6_FOUR_FULL_DEPTH_PCB_PADS_CENTERS_X42_H)
    extrude(amount=-V6_SOLID_SCREW_PADS_WITH_5_MM_INWARD_EAR_DEPTH)

    # V6 PCB holes 85 x 60 mm and retained chassis holes → V6 four PCB M3 holes through reinforced beam pads (cut)
    with BuildSketch(Plane.XY.offset(35)):
        with Locations((-42.5, -70)):
            Circle(V6_PCB_HOLES_85_X_60_MM_AND_RETAINED_CHA_R)
        with Locations((-42.5, -10)):
            Circle(V6_PCB_HOLES_85_X_60_MM_AND_RETAINED_CHA_R)
        with Locations((42.5, -70)):
            Circle(V6_PCB_HOLES_85_X_60_MM_AND_RETAINED_CHA_R)
        with Locations((42.5, -10)):
            Circle(V6_PCB_HOLES_85_X_60_MM_AND_RETAINED_CHA_R)
        with Locations((-47.5, -15)):
            Circle(V6_PCB_HOLES_85_X_60_MM_AND_RETAINED_CHA_R)
        with Locations((47.5, -15)):
            Circle(V6_PCB_HOLES_85_X_60_MM_AND_RETAINED_CHA_R)
    extrude(amount=-V6_FOUR_PCB_M3_HOLES_THROUGH_REINFORCED_DEPTH, mode=Mode.SUBTRACT)


solid = part.part
